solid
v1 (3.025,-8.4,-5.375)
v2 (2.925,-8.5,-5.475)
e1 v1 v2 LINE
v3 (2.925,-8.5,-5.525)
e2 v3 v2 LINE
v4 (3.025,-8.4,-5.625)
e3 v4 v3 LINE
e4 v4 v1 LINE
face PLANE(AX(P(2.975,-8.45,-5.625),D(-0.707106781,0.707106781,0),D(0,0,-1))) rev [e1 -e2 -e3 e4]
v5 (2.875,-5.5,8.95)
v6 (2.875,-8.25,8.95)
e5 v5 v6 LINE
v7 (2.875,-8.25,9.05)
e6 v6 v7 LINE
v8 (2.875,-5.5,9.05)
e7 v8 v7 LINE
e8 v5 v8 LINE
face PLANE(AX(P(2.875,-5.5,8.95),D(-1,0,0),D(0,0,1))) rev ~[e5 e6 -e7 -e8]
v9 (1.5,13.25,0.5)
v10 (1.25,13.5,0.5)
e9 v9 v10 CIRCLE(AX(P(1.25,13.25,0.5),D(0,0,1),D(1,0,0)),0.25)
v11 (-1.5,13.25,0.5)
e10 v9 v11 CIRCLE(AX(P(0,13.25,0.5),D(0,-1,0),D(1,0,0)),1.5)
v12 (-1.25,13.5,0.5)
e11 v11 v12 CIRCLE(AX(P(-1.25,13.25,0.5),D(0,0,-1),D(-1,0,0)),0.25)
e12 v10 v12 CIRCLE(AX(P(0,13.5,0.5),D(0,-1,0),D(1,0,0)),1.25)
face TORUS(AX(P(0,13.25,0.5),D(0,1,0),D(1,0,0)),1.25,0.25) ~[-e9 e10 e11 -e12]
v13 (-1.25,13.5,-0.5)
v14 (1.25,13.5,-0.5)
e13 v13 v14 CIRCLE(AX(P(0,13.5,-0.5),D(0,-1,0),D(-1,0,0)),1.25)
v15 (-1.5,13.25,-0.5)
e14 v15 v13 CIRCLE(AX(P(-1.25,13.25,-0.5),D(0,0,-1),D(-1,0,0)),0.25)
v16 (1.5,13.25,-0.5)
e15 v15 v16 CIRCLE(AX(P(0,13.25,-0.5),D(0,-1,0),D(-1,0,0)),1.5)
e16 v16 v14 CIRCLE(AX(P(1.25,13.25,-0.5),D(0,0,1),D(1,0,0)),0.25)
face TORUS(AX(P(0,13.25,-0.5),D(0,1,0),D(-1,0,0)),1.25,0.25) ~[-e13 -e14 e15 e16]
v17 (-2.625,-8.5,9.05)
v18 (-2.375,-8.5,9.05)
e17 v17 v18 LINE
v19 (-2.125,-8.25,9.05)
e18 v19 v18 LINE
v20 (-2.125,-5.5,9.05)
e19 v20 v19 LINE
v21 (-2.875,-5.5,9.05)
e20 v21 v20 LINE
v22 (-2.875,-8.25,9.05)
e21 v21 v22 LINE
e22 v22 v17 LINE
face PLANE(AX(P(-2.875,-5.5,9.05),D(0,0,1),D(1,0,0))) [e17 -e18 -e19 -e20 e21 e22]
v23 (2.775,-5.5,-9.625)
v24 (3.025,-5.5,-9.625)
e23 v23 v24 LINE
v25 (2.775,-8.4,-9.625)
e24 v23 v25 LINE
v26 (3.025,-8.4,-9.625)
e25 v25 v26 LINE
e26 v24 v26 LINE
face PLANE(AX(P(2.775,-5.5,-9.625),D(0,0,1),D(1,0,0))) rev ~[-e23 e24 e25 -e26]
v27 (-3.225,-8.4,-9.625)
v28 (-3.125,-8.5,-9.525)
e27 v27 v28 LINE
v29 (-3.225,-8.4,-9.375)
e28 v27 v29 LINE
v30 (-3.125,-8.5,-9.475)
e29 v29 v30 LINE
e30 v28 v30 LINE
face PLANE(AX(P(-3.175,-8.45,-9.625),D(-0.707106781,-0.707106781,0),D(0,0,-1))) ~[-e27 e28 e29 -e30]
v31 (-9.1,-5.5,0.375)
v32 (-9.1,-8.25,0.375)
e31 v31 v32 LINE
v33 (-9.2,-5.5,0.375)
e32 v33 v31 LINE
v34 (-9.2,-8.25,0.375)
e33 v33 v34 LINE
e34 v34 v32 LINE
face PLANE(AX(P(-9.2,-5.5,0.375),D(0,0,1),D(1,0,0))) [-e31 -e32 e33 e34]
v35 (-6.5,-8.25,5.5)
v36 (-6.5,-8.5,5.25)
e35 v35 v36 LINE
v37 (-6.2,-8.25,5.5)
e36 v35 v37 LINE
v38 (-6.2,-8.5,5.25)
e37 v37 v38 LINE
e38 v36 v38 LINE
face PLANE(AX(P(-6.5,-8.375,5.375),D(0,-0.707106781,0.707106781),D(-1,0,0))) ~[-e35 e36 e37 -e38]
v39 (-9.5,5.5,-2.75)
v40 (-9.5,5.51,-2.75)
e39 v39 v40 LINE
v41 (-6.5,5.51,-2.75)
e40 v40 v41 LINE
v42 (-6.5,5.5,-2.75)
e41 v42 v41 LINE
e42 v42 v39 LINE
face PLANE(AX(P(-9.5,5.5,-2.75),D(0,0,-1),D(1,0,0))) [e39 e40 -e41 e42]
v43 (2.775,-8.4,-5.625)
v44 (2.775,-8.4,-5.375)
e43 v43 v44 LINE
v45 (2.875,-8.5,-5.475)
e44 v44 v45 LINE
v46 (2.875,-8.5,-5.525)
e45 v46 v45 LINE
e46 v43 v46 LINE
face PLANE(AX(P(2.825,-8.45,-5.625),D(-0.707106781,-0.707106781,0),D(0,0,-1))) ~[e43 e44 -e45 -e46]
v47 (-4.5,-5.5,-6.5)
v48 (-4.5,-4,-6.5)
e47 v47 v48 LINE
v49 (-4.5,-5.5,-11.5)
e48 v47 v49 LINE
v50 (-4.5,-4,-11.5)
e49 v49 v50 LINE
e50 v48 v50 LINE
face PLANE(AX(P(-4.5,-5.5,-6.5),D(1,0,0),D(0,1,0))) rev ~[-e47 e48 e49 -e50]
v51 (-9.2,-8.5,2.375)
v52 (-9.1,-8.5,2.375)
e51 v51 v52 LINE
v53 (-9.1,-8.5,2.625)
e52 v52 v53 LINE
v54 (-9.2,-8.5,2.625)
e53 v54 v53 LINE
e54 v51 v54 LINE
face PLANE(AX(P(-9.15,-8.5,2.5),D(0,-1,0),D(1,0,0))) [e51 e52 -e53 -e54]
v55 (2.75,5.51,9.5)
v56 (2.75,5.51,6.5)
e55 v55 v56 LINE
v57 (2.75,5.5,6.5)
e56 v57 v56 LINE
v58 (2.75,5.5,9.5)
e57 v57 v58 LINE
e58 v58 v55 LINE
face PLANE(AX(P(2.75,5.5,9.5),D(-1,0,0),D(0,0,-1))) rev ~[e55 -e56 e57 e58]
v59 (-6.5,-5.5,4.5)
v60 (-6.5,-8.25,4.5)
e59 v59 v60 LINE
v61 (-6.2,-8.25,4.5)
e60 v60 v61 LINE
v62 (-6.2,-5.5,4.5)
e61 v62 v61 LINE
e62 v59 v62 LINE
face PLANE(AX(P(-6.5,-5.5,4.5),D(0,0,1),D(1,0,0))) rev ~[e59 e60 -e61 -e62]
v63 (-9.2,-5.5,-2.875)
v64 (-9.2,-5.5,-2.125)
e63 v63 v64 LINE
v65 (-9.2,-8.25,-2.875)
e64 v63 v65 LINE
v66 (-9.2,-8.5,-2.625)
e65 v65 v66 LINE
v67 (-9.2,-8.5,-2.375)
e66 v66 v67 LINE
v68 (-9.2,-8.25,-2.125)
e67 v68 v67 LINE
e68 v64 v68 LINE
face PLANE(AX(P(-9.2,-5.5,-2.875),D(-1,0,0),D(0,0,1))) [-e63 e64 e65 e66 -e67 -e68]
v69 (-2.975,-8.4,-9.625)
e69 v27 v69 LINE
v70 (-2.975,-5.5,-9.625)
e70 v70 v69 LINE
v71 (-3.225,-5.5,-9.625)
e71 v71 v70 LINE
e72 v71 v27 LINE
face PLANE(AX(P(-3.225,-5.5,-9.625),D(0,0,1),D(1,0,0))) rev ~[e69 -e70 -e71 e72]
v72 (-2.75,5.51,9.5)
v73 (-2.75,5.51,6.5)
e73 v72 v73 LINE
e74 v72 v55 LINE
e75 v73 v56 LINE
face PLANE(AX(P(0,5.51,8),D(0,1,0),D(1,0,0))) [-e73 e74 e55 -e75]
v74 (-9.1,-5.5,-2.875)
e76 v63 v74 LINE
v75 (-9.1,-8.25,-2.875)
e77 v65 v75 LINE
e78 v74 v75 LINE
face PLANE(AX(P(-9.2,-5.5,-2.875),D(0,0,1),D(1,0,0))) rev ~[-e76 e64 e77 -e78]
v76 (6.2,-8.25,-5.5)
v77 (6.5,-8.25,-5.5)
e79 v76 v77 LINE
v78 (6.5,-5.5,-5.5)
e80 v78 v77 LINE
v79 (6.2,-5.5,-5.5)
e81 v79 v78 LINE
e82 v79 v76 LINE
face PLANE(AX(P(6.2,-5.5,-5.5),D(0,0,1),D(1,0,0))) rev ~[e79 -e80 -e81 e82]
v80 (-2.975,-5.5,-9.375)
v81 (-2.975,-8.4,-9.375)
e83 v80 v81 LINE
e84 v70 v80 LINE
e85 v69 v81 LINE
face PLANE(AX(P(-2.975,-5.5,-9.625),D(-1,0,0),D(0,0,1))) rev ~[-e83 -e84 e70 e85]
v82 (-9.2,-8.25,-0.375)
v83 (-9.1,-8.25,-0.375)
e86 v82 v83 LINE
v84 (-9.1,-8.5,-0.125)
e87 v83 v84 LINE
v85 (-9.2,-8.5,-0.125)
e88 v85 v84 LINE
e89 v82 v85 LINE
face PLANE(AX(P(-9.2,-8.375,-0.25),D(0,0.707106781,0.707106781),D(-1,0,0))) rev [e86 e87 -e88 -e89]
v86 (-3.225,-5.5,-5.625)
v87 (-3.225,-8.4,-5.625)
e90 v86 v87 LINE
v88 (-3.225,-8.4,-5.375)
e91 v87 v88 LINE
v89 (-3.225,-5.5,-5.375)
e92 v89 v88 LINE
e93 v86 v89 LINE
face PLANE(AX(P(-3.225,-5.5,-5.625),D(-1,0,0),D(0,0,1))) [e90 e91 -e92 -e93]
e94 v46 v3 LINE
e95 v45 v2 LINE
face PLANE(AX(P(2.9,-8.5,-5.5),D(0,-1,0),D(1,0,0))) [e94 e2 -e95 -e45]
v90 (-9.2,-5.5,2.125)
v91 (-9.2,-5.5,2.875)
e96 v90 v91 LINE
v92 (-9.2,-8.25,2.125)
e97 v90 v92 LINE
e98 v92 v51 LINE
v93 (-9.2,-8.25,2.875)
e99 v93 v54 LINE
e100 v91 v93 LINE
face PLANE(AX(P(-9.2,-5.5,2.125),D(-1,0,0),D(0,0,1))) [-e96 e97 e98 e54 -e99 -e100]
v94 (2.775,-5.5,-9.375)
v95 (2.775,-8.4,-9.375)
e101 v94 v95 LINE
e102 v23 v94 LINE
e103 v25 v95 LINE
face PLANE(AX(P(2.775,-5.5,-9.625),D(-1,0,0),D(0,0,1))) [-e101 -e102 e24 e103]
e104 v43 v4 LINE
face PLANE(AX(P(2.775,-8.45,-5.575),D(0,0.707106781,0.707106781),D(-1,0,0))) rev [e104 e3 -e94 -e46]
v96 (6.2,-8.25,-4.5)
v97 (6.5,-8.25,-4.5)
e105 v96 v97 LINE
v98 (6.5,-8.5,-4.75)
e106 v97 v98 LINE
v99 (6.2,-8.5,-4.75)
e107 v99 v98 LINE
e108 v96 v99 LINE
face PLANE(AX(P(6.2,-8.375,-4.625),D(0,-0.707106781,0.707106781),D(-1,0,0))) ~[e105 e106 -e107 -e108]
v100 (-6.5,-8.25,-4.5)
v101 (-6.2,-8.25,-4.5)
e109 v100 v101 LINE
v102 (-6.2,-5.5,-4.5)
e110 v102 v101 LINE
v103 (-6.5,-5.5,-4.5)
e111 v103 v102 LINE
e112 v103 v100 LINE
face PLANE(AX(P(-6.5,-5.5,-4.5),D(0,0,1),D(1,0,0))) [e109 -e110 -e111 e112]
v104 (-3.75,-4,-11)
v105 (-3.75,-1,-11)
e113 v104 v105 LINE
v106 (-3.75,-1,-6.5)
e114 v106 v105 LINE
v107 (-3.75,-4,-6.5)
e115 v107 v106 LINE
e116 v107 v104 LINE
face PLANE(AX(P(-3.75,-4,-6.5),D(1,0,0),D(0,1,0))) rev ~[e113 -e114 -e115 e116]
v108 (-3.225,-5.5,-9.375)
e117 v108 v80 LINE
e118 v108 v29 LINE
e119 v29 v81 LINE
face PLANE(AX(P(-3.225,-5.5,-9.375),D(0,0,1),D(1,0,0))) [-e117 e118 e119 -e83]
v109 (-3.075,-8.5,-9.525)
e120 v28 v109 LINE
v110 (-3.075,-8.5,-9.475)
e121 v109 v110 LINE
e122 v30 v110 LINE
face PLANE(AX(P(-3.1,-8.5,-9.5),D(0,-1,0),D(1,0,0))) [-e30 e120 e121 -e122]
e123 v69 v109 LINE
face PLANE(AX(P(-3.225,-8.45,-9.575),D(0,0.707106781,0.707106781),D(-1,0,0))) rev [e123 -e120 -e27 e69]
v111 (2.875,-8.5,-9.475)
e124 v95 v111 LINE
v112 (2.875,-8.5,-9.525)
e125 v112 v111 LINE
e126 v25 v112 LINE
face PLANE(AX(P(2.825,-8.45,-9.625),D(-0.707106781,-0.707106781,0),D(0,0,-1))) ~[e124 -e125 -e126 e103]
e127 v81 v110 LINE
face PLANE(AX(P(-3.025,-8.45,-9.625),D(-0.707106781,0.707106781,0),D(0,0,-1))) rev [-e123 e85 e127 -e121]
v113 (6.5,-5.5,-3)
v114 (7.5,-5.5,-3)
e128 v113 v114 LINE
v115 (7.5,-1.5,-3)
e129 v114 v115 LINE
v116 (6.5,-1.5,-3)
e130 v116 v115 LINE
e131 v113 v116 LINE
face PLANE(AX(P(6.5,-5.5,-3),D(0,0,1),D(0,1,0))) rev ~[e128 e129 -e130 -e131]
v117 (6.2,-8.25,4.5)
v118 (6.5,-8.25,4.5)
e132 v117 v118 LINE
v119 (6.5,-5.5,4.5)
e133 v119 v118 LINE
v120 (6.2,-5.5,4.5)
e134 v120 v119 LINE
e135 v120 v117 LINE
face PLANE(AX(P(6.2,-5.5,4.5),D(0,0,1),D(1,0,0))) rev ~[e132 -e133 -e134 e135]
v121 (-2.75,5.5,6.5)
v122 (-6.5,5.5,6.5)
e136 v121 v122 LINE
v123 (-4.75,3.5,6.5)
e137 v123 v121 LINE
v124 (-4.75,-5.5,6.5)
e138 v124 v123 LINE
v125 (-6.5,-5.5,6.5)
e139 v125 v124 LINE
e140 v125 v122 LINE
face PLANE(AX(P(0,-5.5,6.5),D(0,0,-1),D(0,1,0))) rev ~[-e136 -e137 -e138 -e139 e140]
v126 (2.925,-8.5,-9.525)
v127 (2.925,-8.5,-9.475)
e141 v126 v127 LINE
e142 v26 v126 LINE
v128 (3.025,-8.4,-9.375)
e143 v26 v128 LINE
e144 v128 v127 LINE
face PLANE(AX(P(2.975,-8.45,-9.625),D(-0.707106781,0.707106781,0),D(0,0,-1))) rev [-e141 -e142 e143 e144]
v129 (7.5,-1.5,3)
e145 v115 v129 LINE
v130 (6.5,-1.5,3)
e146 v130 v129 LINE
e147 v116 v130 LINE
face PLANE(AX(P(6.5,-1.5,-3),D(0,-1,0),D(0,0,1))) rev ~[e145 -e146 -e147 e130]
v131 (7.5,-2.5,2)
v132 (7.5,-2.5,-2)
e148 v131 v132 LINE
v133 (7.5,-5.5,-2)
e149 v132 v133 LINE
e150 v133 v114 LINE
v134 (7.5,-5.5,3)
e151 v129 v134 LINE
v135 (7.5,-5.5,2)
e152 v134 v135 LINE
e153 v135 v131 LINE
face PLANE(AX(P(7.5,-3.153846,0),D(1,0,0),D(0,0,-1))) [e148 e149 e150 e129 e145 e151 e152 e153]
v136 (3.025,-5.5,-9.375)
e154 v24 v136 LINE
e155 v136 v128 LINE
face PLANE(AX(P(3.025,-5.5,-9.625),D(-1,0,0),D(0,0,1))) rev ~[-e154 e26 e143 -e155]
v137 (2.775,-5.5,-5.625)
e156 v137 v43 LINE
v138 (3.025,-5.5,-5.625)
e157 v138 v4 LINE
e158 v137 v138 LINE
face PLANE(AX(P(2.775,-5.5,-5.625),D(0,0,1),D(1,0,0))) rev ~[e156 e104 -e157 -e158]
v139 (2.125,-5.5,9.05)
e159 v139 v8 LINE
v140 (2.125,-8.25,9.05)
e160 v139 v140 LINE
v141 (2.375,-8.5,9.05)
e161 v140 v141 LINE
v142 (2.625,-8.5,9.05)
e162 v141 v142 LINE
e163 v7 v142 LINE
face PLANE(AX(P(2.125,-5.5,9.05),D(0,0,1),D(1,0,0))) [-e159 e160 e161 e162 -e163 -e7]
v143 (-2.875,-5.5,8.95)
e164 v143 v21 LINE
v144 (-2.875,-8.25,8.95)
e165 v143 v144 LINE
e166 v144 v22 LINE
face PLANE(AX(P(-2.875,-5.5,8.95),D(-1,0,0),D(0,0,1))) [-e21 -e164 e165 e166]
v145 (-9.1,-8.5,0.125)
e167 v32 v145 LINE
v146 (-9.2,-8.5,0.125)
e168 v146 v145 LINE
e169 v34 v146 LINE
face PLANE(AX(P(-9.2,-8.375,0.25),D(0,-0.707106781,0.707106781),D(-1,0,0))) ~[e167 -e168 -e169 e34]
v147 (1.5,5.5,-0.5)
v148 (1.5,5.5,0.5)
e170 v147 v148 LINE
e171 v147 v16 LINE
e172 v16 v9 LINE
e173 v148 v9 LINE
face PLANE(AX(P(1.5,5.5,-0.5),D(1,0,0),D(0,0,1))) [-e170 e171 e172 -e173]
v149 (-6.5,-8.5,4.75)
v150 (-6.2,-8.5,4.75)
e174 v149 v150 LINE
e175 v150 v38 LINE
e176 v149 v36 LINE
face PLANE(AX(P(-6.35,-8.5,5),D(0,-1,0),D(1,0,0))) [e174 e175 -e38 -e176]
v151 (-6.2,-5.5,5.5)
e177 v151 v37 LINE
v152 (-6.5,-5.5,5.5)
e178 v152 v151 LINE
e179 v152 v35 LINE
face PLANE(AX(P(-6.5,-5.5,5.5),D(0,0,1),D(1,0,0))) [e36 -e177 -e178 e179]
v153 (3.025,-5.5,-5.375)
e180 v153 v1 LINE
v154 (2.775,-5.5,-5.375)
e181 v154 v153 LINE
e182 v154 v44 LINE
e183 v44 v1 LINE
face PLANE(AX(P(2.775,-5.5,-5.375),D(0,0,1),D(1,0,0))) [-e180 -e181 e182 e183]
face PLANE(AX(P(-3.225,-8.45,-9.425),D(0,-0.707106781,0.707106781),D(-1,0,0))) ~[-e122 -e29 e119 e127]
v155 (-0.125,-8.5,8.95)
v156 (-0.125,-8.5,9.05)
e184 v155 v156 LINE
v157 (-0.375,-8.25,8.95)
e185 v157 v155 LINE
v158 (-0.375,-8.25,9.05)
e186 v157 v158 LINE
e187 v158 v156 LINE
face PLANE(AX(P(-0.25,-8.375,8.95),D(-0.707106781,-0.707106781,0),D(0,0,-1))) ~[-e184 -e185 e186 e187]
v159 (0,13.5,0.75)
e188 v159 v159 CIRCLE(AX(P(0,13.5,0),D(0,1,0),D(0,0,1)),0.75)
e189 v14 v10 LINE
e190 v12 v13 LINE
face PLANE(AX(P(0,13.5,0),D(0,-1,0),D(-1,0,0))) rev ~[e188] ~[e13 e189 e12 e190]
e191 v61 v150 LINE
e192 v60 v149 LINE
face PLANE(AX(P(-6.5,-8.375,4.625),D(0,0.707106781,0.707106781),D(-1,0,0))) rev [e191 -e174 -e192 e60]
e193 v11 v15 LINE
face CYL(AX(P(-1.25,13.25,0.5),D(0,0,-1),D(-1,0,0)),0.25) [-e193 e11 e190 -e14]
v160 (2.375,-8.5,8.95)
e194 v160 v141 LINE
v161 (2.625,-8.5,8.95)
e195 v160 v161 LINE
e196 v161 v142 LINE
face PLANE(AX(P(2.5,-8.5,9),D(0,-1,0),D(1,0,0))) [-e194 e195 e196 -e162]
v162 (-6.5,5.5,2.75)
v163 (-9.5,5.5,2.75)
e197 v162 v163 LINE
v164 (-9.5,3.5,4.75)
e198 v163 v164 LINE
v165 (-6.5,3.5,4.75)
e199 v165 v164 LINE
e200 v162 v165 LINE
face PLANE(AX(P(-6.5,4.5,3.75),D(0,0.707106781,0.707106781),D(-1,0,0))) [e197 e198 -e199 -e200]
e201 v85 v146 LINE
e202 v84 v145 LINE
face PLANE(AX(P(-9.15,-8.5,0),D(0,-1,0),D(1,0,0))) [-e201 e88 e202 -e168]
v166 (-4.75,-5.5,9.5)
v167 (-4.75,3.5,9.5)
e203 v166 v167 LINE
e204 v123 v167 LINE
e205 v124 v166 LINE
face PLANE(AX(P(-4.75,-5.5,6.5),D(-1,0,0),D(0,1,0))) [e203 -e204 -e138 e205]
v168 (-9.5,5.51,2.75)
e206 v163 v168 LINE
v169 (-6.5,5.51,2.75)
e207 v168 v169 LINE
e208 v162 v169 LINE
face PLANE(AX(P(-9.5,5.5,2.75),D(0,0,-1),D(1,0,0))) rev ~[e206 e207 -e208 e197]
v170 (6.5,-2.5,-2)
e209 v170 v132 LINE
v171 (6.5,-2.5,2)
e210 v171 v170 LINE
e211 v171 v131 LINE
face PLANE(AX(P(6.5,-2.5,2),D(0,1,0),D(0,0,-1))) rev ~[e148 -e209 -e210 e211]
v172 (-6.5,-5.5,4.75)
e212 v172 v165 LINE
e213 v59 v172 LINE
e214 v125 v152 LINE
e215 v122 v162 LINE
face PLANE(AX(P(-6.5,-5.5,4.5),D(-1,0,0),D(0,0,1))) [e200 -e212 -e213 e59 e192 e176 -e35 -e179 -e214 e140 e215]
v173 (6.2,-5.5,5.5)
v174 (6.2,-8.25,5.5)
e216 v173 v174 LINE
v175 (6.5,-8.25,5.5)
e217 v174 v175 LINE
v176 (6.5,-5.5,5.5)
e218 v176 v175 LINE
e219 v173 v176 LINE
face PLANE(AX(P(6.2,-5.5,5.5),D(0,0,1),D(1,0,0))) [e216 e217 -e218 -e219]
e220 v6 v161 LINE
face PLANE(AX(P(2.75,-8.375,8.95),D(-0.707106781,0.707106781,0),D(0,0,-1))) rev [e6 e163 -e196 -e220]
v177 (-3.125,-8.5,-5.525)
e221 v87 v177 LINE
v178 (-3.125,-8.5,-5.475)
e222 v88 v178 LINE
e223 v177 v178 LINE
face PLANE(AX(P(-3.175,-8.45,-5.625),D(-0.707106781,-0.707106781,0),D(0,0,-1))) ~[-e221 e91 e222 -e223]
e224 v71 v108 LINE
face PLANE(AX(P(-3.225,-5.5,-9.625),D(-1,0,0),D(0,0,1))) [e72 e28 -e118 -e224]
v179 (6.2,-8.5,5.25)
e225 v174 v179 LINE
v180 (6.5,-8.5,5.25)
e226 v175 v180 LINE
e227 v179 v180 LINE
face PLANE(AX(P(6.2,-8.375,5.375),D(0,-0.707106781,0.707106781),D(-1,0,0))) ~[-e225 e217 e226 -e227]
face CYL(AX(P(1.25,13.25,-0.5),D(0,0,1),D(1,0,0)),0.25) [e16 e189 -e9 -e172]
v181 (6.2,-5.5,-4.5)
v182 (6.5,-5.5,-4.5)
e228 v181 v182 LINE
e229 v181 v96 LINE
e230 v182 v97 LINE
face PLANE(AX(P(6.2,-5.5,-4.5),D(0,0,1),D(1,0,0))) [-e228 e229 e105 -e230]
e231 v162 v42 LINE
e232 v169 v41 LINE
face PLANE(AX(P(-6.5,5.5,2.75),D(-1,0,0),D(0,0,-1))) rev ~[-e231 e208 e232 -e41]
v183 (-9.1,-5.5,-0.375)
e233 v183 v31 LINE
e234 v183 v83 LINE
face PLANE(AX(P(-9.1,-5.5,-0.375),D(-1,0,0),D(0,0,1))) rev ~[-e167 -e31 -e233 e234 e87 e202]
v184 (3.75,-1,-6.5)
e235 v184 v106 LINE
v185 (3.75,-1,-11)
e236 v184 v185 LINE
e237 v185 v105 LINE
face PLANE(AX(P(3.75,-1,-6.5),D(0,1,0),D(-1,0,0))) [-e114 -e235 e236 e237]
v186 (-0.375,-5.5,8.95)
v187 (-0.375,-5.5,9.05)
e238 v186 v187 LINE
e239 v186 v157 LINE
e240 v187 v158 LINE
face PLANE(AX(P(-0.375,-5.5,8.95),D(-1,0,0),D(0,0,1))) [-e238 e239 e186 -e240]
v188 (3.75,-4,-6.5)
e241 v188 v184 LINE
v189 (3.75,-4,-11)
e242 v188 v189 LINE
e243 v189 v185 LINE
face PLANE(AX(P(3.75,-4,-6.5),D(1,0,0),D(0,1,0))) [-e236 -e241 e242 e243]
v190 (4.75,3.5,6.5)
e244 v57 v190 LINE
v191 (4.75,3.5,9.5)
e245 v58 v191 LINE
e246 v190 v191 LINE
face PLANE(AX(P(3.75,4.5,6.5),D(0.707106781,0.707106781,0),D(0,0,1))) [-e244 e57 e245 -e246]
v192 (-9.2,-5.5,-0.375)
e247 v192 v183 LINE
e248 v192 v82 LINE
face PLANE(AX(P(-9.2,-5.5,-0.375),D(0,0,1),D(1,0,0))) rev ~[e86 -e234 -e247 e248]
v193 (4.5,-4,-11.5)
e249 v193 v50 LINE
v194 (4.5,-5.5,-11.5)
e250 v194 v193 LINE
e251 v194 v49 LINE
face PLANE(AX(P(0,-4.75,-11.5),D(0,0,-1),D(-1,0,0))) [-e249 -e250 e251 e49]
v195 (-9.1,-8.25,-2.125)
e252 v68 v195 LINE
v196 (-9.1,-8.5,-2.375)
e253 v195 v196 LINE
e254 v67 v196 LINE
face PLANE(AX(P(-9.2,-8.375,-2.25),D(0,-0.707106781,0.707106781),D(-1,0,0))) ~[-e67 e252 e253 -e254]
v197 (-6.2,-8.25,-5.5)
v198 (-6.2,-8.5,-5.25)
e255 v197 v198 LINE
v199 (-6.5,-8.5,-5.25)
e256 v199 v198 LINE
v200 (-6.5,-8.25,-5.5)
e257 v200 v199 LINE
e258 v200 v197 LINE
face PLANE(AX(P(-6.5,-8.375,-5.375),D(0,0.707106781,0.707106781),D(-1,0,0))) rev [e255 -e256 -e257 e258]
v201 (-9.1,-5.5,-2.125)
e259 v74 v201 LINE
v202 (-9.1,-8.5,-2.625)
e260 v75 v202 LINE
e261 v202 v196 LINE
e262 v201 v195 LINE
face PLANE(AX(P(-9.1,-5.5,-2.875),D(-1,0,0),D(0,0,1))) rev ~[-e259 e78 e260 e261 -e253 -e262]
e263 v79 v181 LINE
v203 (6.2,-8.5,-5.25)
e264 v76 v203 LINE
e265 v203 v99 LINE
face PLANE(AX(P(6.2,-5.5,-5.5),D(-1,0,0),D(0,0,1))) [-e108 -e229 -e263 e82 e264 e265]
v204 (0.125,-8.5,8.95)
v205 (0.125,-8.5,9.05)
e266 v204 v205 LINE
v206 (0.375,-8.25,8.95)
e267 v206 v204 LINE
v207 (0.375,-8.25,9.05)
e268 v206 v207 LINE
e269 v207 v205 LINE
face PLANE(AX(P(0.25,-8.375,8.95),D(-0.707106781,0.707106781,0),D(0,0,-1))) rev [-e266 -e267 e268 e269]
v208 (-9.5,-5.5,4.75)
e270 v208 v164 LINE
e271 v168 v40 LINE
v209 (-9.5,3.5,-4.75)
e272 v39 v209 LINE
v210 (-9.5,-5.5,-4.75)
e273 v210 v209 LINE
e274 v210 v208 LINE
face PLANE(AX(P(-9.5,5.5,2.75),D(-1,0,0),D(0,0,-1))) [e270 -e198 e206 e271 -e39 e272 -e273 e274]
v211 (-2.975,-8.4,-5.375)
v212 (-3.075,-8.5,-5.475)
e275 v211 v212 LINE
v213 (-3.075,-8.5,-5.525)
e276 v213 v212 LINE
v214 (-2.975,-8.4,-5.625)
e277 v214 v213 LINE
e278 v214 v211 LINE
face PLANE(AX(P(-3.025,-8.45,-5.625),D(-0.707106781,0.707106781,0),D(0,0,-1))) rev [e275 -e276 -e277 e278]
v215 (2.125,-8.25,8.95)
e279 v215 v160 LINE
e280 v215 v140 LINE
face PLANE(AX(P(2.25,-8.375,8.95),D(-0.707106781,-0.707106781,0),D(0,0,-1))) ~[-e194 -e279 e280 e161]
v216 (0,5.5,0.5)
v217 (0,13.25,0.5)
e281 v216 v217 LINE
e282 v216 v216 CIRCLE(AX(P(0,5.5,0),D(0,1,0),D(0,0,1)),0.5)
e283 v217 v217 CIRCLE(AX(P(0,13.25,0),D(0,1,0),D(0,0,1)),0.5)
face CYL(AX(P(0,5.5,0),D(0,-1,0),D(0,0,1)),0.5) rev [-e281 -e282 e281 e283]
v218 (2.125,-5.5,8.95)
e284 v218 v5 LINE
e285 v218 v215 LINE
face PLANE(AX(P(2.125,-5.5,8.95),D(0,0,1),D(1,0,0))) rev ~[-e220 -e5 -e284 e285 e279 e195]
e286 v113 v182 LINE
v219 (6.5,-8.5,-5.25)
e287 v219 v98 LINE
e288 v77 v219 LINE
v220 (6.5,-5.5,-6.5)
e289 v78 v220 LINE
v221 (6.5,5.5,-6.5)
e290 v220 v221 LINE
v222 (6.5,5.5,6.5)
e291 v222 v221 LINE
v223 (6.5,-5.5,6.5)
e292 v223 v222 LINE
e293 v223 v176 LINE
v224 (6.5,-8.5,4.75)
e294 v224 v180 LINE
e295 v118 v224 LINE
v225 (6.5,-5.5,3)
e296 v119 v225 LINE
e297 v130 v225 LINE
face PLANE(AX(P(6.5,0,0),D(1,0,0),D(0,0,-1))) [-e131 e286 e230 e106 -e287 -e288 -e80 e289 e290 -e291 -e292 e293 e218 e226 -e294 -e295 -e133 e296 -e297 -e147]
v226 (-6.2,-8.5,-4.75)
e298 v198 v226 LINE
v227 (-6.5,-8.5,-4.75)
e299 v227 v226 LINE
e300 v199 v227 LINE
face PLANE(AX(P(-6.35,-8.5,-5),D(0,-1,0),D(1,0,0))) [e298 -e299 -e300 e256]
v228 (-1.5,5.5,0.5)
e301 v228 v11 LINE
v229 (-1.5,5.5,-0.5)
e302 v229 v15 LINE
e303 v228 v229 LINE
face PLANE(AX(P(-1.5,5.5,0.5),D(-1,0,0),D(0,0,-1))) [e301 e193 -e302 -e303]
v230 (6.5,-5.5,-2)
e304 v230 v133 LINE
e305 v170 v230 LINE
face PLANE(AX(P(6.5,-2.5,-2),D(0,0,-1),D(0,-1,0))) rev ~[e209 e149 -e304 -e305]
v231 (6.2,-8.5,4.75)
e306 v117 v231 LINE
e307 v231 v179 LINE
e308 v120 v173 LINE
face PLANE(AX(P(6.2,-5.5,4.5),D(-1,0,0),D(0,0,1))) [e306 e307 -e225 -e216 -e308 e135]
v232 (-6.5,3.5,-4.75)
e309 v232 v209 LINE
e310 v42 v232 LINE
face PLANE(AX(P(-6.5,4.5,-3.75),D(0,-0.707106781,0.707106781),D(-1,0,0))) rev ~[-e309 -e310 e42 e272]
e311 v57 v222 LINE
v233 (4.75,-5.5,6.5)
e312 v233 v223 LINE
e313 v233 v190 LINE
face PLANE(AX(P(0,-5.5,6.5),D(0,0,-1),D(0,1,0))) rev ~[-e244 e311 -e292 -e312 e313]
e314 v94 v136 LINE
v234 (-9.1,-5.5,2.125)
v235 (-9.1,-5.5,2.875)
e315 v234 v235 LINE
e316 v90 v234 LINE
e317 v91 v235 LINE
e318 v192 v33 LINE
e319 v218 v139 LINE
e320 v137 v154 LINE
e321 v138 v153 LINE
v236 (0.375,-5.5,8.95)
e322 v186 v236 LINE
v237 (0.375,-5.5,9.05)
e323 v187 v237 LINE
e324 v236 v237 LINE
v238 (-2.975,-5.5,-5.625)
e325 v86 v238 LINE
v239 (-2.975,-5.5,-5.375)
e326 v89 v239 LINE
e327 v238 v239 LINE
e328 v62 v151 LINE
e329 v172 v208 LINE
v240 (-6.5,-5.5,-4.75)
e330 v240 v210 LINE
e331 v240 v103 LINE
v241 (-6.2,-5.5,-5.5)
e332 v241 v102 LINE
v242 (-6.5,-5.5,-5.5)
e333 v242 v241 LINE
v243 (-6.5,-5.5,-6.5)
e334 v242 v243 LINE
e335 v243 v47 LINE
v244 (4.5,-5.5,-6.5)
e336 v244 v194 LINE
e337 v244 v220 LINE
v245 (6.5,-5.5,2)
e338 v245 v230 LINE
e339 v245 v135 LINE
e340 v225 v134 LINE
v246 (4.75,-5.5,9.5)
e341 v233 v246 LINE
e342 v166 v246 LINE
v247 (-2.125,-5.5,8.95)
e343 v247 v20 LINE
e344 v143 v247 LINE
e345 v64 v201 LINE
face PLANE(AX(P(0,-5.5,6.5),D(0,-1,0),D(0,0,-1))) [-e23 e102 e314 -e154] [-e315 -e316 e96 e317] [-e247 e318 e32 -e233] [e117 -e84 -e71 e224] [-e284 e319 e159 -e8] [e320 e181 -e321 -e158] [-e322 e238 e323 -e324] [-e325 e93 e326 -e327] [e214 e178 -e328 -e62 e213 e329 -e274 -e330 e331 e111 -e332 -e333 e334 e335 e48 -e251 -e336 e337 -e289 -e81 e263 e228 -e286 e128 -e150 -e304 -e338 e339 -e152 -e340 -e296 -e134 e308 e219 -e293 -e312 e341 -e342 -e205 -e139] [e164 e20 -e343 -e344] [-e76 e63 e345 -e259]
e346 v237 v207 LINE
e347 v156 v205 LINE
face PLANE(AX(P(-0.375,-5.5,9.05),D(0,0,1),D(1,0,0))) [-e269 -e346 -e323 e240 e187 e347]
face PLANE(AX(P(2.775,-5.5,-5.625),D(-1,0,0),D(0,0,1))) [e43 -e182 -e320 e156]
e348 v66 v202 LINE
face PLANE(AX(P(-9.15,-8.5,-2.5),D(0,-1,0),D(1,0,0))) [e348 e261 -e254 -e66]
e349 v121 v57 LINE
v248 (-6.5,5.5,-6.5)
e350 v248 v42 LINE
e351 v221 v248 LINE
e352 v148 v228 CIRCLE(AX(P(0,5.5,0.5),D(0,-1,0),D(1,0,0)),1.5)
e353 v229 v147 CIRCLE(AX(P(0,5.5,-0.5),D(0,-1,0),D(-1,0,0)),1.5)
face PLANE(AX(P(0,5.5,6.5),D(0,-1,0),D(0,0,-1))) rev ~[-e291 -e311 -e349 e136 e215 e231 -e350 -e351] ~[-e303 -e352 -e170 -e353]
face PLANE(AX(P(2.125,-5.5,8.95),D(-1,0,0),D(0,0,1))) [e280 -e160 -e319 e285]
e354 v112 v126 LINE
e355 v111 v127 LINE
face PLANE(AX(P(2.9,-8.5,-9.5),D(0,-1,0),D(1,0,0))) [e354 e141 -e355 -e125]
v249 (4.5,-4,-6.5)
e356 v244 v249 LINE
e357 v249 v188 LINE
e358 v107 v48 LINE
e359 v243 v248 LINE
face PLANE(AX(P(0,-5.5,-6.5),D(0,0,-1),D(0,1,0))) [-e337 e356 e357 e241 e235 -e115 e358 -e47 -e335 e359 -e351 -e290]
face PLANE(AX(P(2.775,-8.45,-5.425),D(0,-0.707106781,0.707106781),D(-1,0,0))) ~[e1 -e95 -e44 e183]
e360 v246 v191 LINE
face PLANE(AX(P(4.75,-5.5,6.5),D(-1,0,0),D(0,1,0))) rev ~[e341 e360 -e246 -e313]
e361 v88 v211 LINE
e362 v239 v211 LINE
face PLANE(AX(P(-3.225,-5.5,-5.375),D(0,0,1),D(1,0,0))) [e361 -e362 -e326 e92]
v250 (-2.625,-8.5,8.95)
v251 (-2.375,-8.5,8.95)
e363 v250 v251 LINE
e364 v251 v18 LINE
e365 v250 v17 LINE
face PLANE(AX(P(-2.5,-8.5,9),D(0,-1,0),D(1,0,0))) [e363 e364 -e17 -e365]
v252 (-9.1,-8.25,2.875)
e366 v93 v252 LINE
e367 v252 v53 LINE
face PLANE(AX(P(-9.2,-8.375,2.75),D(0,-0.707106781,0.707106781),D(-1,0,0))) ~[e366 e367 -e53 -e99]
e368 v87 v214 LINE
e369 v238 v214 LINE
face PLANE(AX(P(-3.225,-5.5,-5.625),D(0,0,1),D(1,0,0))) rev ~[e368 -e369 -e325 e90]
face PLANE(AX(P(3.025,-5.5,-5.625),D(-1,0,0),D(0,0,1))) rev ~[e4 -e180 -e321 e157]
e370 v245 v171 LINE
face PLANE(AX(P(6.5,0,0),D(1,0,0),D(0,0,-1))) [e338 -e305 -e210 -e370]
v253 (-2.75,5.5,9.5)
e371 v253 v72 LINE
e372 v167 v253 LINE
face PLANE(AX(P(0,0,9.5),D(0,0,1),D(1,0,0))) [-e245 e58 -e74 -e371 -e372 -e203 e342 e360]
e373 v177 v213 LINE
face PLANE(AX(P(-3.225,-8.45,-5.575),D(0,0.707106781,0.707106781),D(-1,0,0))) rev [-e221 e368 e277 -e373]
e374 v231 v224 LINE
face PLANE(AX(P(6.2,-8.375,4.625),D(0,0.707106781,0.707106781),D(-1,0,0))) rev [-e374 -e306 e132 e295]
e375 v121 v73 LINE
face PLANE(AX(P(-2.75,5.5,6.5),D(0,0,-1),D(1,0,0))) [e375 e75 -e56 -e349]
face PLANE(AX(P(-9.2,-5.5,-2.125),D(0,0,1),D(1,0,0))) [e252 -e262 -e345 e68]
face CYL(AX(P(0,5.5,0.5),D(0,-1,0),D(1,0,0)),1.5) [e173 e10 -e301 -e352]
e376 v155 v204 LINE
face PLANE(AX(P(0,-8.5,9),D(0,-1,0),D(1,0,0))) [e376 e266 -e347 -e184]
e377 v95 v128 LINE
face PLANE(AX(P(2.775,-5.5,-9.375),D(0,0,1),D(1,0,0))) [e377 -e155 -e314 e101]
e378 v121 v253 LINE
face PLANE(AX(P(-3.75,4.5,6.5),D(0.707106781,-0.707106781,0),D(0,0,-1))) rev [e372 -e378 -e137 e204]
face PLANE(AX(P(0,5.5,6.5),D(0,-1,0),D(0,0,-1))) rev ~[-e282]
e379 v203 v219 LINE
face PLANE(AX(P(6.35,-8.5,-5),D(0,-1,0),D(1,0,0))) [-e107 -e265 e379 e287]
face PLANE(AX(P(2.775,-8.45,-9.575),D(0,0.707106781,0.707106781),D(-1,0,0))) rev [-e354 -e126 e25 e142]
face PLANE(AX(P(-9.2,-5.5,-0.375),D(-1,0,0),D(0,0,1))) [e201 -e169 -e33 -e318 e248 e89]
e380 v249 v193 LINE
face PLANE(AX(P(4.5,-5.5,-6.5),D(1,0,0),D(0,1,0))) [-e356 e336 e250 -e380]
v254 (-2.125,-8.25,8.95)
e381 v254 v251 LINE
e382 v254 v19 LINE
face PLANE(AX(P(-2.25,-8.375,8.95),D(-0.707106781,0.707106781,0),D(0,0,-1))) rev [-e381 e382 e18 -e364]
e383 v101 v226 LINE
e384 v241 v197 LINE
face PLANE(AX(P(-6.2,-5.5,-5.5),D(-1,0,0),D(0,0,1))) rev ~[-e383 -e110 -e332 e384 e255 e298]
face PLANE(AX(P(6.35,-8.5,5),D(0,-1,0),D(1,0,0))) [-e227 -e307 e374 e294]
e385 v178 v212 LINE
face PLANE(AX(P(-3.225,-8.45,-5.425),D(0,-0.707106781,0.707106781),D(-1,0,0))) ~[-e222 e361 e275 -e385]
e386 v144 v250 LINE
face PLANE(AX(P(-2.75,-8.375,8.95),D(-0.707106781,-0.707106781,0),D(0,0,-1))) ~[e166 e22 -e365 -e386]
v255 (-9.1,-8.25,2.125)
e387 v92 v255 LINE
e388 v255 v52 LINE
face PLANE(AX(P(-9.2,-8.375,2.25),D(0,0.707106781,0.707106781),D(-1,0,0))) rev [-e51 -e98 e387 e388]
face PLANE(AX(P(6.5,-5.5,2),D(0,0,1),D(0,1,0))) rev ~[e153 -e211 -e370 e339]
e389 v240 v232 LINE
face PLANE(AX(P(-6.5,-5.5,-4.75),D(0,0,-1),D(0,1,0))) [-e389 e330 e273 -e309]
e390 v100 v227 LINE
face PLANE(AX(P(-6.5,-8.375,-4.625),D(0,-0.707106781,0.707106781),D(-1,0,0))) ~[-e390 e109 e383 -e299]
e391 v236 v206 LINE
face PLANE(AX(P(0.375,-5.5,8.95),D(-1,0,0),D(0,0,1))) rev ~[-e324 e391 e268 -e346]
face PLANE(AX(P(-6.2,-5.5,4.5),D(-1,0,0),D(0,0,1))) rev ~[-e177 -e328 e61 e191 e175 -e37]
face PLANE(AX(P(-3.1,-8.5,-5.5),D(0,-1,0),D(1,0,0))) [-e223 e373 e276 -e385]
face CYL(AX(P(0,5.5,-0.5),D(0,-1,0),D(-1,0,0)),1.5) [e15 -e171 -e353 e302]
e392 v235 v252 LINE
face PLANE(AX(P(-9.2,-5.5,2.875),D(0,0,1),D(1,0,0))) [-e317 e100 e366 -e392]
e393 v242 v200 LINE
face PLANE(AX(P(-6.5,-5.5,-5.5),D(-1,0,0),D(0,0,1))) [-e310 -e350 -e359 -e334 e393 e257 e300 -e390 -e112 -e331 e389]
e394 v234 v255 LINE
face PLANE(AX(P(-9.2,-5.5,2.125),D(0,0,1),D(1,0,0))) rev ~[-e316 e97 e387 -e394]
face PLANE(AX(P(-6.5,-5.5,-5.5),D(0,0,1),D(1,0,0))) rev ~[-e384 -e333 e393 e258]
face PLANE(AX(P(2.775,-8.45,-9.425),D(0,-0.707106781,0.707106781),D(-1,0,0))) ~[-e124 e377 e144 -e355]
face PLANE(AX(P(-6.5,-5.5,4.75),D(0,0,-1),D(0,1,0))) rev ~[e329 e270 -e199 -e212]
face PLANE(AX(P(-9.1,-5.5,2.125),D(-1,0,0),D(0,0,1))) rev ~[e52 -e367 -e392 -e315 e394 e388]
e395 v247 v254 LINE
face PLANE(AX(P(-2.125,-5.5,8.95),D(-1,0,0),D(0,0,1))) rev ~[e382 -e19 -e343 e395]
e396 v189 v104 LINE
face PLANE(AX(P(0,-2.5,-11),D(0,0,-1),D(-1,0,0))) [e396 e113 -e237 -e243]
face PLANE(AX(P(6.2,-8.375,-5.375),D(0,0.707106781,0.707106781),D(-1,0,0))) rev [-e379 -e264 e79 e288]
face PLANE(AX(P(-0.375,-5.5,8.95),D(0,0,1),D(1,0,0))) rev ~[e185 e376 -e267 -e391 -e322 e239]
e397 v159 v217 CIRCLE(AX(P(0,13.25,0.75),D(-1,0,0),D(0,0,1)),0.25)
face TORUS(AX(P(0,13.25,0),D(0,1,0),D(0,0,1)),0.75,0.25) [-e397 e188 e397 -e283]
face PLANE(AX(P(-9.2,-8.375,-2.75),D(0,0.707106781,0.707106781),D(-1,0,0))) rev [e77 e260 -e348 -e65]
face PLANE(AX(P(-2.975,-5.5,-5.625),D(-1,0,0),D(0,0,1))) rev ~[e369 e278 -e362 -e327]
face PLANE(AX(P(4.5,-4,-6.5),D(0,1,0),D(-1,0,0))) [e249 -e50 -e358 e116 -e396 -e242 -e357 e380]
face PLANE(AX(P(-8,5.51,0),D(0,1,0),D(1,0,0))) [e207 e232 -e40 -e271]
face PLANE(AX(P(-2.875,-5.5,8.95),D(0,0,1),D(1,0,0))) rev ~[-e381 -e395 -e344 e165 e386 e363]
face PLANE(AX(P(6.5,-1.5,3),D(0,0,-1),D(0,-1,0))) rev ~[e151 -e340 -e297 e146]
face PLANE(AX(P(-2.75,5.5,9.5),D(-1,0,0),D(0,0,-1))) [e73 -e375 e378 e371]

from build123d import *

# Parameters (mm, degrees)
SKETCH2_W           = 13
SKETCH2_H           = 11
BOSS_EXTRUDE1_DEPTH = 6.5
BOSS_EXTRUDE2_DEPTH = 1
SKETCH4_W           = 9.5
SKETCH4_H           = 11
BOSS_EXTRUDE3_DEPTH = 3
CHAMFER1_SIZE       = 2
SKETCH5_W           = 9.5
SKETCH5_H           = 11
BOSS_EXTRUDE4_DEPTH = 3
CHAMFER2_SIZE       = 2
SKETCH6_W           = 9
SKETCH6_H           = 1.5
BOSS_EXTRUDE5_DEPTH = 5
SKETCH7_W           = 7.5
SKETCH7_H           = 3
BOSS_EXTRUDE6_DEPTH = 4.5
SKETCH8_R           = 0.5
BOSS_EXTRUDE7_DEPTH = 8
FILLET2_R           = 0.25
SKETCH9_W           = 3
SKETCH9_H           = 5.5
SKETCH9_W_2         = 5.5
SKETCH9_H_2         = 3
BOSS_EXTRUDE8_DEPTH = 0.01
SKETCH10_W          = 0.3
SKETCH10_H          = 1
SKETCH10_W_2        = 0.1
SKETCH10_H_2        = 0.75
SKETCH10_W_3        = 0.75
SKETCH10_H_3        = 0.1
SKETCH10_W_4        = 0.25
SKETCH10_H_4        = 0.25
BOSS_EXTRUDE9_DEPTH = 3
CHAMFER3_SIZE       = 0.25
CHAMFER4_SIZE       = 0.1


with BuildPart() as part:
    # Sketch2 → Boss-Extrude1 (new, symmetric)
    with BuildSketch(Plane(origin=(0, 0, 0), x_dir=(0, 0, -1), z_dir=(1, 0, 0))):
        Rectangle(SKETCH2_W, SKETCH2_H)
    extrude(amount=BOSS_EXTRUDE1_DEPTH, both=True)

    # Sketch3 → Boss-Extrude2 (add)
    with BuildSketch(Plane(origin=(6.5, 0, 0), x_dir=(0, 0, -1), z_dir=(1, 0, 0))):
        Polygon((3, -1.5), (-3, -1.5), (-3, -5.5), (-2, -5.5), (-2, -2.5), (2, -2.5), (2, -5.5), (3, -5.5), align=None)
    extrude(amount=BOSS_EXTRUDE2_DEPTH)

    # Sketch4 → Boss-Extrude3 (add)
    with BuildSketch(Plane.XY.offset(6.5)):
        Rectangle(SKETCH4_W, SKETCH4_H)
    extrude(amount=BOSS_EXTRUDE3_DEPTH)

    # Chamfer1
    chamfer1_edges = [part.edges().sort_by_distance(p)[0] for p in [
        (-4.75, 5.5, 8),
        (4.75, 5.5, 8),
    ]]
    chamfer(chamfer1_edges, length=CHAMFER1_SIZE)

    # Sketch5 → Boss-Extrude4 (add)
    with BuildSketch(Plane.ZY.offset(6.5)):
        Rectangle(SKETCH5_W, SKETCH5_H)
    extrude(amount=BOSS_EXTRUDE4_DEPTH)

    # Chamfer2
    chamfer2_edges = [part.edges().sort_by_distance(p)[0] for p in [
        (-8, 5.5, -4.75),
        (-8, 5.5, 4.75),
    ]]
    chamfer(chamfer2_edges, length=CHAMFER2_SIZE)

    # Sketch6 → Boss-Extrude5 (add)
    with BuildSketch(Plane(origin=(0, 0, -6.5), x_dir=(-1, 0, 0), z_dir=(0, 0, -1))):
        with Locations((0, -4.75)):
            Rectangle(SKETCH6_W, SKETCH6_H)
    extrude(amount=BOSS_EXTRUDE5_DEPTH)

    # Sketch7 → Boss-Extrude6 (add)
    with BuildSketch(Plane(origin=(0, 0, -6.5), x_dir=(-1, 0, 0), z_dir=(0, 0, -1))):
        with Locations((0, -2.5)):
            Rectangle(SKETCH7_W, SKETCH7_H)
    extrude(amount=BOSS_EXTRUDE6_DEPTH)

    # Sketch8 → Boss-Extrude7 (add)
    with BuildSketch(Plane(origin=(0, 5.5, 0), x_dir=(1, 0, 0), z_dir=(0, 1, 0))):
        with BuildLine():
            Line((1.5, 0.5), (1.5, -0.5))
            ThreePointArc((1.5, -0.5), (0, -2), (-1.5, -0.5))
            Line((-1.5, -0.5), (-1.5, 0.5))
            ThreePointArc((-1.5, 0.5), (0, 2), (1.5, 0.5))
        make_face()
        with Locations(Location((0, 0, 0), (0, 0, 270))):
            Circle(SKETCH8_R, mode=Mode.SUBTRACT)
    extrude(amount=BOSS_EXTRUDE7_DEPTH)

    # Fillet2
    fillet2_edges = [part.edges().sort_by_distance(p)[0] for p in [
        (0, 13.5, -2),
        (-1.5, 13.5, 0),
        (0, 13.5, 2),
        (1.5, 13.5, 0),
        (0, 13.5, -0.5),
    ]]
    fillet(fillet2_edges, radius=FILLET2_R)

    # Sketch9 → Boss-Extrude8 (add)
    with BuildSketch(Plane(origin=(0, 5.5, 0), x_dir=(1, 0, 0), z_dir=(0, 1, 0))):
        with Locations((-8, 0)):
            Rectangle(SKETCH9_W, SKETCH9_H)
        with Locations((0, -8)):
            Rectangle(SKETCH9_W_2, SKETCH9_H_2)
    extrude(amount=BOSS_EXTRUDE8_DEPTH)

    # Sketch10 → Boss-Extrude9 (add)
    with BuildSketch(Plane.XZ.offset(5.5)):
        with Locations((-6.35, -5)):
            Rectangle(SKETCH10_W, SKETCH10_H)
        with Locations((6.35, -5)):
            Rectangle(SKETCH10_W, SKETCH10_H)
        with Locations((-6.35, 5)):
            Rectangle(SKETCH10_W, SKETCH10_H)
        with Locations((6.35, 5)):
            Rectangle(SKETCH10_W, SKETCH10_H)
        with Locations((-9.15, 0)):
            Rectangle(SKETCH10_W_2, SKETCH10_H_2)
        with Locations((-9.15, -2.5)):
            Rectangle(SKETCH10_W_2, SKETCH10_H_2)
        with Locations((-9.15, 2.5)):
            Rectangle(SKETCH10_W_2, SKETCH10_H_2)
        with Locations((0, 9)):
            Rectangle(SKETCH10_W_3, SKETCH10_H_3)
        with Locations((-2.5, 9)):
            Rectangle(SKETCH10_W_3, SKETCH10_H_3)
        with Locations((2.5, 9)):
            Rectangle(SKETCH10_W_3, SKETCH10_H_3)
        with Locations((-3.1, -5.5)):
            Rectangle(SKETCH10_W_4, SKETCH10_H_4)
        with Locations((2.9, -5.5)):
            Rectangle(SKETCH10_W_4, SKETCH10_H_4)
        with Locations((2.9, -9.5)):
            Rectangle(SKETCH10_W_4, SKETCH10_H_4)
        with Locations((-3.1, -9.5)):
            Rectangle(SKETCH10_W_4, SKETCH10_H_4)
    extrude(amount=BOSS_EXTRUDE9_DEPTH)

    # Chamfer3
    chamfer3_edges = [part.edges().sort_by_distance(p)[0] for p in [
        (-6.35, -8.5, -5.5),
        (-6.35, -8.5, -4.5),
        (6.35, -8.5, -4.5),
        (6.35, -8.5, -5.5),
        (-6.35, -8.5, 4.5),
        (-6.35, -8.5, 5.5),
        (6.35, -8.5, 5.5),
        (6.35, -8.5, 4.5),
        (-9.15, -8.5, 0.375),
        (-9.15, -8.5, -0.375),
        (-9.15, -8.5, -2.125),
        (-9.15, -8.5, -2.875),
        (-9.15, -8.5, 2.875),
        (-9.15, -8.5, 2.125),
        (0.375, -8.5, 9),
        (-0.375, -8.5, 9),
        (-2.125, -8.5, 9),
        (-2.875, -8.5, 9),
        (2.875, -8.5, 9),
        (2.125, -8.5, 9),
    ]]
    chamfer(chamfer3_edges, length=CHAMFER3_SIZE)

    # Chamfer4
    chamfer4_edges = [part.edges().sort_by_distance(p)[0] for p in [
        (3.025, -8.5, -5.5),
        (2.9, -8.5, -5.375),
        (2.775, -8.5, -5.5),
        (2.9, -8.5, -5.625),
        (-2.975, -8.5, -5.5),
        (-3.1, -8.5, -5.375),
        (-3.225, -8.5, -5.5),
        (-3.1, -8.5, -5.625),
        (3.025, -8.5, -9.5),
        (2.9, -8.5, -9.375),
        (2.775, -8.5, -9.5),
        (2.9, -8.5, -9.625),
        (-2.975, -8.5, -9.5),
        (-3.1, -8.5, -9.375),
        (-3.225, -8.5, -9.5),
        (-3.1, -8.5, -9.625),
    ]]
    chamfer(chamfer4_edges, length=CHAMFER4_SIZE)


solid = part.part
